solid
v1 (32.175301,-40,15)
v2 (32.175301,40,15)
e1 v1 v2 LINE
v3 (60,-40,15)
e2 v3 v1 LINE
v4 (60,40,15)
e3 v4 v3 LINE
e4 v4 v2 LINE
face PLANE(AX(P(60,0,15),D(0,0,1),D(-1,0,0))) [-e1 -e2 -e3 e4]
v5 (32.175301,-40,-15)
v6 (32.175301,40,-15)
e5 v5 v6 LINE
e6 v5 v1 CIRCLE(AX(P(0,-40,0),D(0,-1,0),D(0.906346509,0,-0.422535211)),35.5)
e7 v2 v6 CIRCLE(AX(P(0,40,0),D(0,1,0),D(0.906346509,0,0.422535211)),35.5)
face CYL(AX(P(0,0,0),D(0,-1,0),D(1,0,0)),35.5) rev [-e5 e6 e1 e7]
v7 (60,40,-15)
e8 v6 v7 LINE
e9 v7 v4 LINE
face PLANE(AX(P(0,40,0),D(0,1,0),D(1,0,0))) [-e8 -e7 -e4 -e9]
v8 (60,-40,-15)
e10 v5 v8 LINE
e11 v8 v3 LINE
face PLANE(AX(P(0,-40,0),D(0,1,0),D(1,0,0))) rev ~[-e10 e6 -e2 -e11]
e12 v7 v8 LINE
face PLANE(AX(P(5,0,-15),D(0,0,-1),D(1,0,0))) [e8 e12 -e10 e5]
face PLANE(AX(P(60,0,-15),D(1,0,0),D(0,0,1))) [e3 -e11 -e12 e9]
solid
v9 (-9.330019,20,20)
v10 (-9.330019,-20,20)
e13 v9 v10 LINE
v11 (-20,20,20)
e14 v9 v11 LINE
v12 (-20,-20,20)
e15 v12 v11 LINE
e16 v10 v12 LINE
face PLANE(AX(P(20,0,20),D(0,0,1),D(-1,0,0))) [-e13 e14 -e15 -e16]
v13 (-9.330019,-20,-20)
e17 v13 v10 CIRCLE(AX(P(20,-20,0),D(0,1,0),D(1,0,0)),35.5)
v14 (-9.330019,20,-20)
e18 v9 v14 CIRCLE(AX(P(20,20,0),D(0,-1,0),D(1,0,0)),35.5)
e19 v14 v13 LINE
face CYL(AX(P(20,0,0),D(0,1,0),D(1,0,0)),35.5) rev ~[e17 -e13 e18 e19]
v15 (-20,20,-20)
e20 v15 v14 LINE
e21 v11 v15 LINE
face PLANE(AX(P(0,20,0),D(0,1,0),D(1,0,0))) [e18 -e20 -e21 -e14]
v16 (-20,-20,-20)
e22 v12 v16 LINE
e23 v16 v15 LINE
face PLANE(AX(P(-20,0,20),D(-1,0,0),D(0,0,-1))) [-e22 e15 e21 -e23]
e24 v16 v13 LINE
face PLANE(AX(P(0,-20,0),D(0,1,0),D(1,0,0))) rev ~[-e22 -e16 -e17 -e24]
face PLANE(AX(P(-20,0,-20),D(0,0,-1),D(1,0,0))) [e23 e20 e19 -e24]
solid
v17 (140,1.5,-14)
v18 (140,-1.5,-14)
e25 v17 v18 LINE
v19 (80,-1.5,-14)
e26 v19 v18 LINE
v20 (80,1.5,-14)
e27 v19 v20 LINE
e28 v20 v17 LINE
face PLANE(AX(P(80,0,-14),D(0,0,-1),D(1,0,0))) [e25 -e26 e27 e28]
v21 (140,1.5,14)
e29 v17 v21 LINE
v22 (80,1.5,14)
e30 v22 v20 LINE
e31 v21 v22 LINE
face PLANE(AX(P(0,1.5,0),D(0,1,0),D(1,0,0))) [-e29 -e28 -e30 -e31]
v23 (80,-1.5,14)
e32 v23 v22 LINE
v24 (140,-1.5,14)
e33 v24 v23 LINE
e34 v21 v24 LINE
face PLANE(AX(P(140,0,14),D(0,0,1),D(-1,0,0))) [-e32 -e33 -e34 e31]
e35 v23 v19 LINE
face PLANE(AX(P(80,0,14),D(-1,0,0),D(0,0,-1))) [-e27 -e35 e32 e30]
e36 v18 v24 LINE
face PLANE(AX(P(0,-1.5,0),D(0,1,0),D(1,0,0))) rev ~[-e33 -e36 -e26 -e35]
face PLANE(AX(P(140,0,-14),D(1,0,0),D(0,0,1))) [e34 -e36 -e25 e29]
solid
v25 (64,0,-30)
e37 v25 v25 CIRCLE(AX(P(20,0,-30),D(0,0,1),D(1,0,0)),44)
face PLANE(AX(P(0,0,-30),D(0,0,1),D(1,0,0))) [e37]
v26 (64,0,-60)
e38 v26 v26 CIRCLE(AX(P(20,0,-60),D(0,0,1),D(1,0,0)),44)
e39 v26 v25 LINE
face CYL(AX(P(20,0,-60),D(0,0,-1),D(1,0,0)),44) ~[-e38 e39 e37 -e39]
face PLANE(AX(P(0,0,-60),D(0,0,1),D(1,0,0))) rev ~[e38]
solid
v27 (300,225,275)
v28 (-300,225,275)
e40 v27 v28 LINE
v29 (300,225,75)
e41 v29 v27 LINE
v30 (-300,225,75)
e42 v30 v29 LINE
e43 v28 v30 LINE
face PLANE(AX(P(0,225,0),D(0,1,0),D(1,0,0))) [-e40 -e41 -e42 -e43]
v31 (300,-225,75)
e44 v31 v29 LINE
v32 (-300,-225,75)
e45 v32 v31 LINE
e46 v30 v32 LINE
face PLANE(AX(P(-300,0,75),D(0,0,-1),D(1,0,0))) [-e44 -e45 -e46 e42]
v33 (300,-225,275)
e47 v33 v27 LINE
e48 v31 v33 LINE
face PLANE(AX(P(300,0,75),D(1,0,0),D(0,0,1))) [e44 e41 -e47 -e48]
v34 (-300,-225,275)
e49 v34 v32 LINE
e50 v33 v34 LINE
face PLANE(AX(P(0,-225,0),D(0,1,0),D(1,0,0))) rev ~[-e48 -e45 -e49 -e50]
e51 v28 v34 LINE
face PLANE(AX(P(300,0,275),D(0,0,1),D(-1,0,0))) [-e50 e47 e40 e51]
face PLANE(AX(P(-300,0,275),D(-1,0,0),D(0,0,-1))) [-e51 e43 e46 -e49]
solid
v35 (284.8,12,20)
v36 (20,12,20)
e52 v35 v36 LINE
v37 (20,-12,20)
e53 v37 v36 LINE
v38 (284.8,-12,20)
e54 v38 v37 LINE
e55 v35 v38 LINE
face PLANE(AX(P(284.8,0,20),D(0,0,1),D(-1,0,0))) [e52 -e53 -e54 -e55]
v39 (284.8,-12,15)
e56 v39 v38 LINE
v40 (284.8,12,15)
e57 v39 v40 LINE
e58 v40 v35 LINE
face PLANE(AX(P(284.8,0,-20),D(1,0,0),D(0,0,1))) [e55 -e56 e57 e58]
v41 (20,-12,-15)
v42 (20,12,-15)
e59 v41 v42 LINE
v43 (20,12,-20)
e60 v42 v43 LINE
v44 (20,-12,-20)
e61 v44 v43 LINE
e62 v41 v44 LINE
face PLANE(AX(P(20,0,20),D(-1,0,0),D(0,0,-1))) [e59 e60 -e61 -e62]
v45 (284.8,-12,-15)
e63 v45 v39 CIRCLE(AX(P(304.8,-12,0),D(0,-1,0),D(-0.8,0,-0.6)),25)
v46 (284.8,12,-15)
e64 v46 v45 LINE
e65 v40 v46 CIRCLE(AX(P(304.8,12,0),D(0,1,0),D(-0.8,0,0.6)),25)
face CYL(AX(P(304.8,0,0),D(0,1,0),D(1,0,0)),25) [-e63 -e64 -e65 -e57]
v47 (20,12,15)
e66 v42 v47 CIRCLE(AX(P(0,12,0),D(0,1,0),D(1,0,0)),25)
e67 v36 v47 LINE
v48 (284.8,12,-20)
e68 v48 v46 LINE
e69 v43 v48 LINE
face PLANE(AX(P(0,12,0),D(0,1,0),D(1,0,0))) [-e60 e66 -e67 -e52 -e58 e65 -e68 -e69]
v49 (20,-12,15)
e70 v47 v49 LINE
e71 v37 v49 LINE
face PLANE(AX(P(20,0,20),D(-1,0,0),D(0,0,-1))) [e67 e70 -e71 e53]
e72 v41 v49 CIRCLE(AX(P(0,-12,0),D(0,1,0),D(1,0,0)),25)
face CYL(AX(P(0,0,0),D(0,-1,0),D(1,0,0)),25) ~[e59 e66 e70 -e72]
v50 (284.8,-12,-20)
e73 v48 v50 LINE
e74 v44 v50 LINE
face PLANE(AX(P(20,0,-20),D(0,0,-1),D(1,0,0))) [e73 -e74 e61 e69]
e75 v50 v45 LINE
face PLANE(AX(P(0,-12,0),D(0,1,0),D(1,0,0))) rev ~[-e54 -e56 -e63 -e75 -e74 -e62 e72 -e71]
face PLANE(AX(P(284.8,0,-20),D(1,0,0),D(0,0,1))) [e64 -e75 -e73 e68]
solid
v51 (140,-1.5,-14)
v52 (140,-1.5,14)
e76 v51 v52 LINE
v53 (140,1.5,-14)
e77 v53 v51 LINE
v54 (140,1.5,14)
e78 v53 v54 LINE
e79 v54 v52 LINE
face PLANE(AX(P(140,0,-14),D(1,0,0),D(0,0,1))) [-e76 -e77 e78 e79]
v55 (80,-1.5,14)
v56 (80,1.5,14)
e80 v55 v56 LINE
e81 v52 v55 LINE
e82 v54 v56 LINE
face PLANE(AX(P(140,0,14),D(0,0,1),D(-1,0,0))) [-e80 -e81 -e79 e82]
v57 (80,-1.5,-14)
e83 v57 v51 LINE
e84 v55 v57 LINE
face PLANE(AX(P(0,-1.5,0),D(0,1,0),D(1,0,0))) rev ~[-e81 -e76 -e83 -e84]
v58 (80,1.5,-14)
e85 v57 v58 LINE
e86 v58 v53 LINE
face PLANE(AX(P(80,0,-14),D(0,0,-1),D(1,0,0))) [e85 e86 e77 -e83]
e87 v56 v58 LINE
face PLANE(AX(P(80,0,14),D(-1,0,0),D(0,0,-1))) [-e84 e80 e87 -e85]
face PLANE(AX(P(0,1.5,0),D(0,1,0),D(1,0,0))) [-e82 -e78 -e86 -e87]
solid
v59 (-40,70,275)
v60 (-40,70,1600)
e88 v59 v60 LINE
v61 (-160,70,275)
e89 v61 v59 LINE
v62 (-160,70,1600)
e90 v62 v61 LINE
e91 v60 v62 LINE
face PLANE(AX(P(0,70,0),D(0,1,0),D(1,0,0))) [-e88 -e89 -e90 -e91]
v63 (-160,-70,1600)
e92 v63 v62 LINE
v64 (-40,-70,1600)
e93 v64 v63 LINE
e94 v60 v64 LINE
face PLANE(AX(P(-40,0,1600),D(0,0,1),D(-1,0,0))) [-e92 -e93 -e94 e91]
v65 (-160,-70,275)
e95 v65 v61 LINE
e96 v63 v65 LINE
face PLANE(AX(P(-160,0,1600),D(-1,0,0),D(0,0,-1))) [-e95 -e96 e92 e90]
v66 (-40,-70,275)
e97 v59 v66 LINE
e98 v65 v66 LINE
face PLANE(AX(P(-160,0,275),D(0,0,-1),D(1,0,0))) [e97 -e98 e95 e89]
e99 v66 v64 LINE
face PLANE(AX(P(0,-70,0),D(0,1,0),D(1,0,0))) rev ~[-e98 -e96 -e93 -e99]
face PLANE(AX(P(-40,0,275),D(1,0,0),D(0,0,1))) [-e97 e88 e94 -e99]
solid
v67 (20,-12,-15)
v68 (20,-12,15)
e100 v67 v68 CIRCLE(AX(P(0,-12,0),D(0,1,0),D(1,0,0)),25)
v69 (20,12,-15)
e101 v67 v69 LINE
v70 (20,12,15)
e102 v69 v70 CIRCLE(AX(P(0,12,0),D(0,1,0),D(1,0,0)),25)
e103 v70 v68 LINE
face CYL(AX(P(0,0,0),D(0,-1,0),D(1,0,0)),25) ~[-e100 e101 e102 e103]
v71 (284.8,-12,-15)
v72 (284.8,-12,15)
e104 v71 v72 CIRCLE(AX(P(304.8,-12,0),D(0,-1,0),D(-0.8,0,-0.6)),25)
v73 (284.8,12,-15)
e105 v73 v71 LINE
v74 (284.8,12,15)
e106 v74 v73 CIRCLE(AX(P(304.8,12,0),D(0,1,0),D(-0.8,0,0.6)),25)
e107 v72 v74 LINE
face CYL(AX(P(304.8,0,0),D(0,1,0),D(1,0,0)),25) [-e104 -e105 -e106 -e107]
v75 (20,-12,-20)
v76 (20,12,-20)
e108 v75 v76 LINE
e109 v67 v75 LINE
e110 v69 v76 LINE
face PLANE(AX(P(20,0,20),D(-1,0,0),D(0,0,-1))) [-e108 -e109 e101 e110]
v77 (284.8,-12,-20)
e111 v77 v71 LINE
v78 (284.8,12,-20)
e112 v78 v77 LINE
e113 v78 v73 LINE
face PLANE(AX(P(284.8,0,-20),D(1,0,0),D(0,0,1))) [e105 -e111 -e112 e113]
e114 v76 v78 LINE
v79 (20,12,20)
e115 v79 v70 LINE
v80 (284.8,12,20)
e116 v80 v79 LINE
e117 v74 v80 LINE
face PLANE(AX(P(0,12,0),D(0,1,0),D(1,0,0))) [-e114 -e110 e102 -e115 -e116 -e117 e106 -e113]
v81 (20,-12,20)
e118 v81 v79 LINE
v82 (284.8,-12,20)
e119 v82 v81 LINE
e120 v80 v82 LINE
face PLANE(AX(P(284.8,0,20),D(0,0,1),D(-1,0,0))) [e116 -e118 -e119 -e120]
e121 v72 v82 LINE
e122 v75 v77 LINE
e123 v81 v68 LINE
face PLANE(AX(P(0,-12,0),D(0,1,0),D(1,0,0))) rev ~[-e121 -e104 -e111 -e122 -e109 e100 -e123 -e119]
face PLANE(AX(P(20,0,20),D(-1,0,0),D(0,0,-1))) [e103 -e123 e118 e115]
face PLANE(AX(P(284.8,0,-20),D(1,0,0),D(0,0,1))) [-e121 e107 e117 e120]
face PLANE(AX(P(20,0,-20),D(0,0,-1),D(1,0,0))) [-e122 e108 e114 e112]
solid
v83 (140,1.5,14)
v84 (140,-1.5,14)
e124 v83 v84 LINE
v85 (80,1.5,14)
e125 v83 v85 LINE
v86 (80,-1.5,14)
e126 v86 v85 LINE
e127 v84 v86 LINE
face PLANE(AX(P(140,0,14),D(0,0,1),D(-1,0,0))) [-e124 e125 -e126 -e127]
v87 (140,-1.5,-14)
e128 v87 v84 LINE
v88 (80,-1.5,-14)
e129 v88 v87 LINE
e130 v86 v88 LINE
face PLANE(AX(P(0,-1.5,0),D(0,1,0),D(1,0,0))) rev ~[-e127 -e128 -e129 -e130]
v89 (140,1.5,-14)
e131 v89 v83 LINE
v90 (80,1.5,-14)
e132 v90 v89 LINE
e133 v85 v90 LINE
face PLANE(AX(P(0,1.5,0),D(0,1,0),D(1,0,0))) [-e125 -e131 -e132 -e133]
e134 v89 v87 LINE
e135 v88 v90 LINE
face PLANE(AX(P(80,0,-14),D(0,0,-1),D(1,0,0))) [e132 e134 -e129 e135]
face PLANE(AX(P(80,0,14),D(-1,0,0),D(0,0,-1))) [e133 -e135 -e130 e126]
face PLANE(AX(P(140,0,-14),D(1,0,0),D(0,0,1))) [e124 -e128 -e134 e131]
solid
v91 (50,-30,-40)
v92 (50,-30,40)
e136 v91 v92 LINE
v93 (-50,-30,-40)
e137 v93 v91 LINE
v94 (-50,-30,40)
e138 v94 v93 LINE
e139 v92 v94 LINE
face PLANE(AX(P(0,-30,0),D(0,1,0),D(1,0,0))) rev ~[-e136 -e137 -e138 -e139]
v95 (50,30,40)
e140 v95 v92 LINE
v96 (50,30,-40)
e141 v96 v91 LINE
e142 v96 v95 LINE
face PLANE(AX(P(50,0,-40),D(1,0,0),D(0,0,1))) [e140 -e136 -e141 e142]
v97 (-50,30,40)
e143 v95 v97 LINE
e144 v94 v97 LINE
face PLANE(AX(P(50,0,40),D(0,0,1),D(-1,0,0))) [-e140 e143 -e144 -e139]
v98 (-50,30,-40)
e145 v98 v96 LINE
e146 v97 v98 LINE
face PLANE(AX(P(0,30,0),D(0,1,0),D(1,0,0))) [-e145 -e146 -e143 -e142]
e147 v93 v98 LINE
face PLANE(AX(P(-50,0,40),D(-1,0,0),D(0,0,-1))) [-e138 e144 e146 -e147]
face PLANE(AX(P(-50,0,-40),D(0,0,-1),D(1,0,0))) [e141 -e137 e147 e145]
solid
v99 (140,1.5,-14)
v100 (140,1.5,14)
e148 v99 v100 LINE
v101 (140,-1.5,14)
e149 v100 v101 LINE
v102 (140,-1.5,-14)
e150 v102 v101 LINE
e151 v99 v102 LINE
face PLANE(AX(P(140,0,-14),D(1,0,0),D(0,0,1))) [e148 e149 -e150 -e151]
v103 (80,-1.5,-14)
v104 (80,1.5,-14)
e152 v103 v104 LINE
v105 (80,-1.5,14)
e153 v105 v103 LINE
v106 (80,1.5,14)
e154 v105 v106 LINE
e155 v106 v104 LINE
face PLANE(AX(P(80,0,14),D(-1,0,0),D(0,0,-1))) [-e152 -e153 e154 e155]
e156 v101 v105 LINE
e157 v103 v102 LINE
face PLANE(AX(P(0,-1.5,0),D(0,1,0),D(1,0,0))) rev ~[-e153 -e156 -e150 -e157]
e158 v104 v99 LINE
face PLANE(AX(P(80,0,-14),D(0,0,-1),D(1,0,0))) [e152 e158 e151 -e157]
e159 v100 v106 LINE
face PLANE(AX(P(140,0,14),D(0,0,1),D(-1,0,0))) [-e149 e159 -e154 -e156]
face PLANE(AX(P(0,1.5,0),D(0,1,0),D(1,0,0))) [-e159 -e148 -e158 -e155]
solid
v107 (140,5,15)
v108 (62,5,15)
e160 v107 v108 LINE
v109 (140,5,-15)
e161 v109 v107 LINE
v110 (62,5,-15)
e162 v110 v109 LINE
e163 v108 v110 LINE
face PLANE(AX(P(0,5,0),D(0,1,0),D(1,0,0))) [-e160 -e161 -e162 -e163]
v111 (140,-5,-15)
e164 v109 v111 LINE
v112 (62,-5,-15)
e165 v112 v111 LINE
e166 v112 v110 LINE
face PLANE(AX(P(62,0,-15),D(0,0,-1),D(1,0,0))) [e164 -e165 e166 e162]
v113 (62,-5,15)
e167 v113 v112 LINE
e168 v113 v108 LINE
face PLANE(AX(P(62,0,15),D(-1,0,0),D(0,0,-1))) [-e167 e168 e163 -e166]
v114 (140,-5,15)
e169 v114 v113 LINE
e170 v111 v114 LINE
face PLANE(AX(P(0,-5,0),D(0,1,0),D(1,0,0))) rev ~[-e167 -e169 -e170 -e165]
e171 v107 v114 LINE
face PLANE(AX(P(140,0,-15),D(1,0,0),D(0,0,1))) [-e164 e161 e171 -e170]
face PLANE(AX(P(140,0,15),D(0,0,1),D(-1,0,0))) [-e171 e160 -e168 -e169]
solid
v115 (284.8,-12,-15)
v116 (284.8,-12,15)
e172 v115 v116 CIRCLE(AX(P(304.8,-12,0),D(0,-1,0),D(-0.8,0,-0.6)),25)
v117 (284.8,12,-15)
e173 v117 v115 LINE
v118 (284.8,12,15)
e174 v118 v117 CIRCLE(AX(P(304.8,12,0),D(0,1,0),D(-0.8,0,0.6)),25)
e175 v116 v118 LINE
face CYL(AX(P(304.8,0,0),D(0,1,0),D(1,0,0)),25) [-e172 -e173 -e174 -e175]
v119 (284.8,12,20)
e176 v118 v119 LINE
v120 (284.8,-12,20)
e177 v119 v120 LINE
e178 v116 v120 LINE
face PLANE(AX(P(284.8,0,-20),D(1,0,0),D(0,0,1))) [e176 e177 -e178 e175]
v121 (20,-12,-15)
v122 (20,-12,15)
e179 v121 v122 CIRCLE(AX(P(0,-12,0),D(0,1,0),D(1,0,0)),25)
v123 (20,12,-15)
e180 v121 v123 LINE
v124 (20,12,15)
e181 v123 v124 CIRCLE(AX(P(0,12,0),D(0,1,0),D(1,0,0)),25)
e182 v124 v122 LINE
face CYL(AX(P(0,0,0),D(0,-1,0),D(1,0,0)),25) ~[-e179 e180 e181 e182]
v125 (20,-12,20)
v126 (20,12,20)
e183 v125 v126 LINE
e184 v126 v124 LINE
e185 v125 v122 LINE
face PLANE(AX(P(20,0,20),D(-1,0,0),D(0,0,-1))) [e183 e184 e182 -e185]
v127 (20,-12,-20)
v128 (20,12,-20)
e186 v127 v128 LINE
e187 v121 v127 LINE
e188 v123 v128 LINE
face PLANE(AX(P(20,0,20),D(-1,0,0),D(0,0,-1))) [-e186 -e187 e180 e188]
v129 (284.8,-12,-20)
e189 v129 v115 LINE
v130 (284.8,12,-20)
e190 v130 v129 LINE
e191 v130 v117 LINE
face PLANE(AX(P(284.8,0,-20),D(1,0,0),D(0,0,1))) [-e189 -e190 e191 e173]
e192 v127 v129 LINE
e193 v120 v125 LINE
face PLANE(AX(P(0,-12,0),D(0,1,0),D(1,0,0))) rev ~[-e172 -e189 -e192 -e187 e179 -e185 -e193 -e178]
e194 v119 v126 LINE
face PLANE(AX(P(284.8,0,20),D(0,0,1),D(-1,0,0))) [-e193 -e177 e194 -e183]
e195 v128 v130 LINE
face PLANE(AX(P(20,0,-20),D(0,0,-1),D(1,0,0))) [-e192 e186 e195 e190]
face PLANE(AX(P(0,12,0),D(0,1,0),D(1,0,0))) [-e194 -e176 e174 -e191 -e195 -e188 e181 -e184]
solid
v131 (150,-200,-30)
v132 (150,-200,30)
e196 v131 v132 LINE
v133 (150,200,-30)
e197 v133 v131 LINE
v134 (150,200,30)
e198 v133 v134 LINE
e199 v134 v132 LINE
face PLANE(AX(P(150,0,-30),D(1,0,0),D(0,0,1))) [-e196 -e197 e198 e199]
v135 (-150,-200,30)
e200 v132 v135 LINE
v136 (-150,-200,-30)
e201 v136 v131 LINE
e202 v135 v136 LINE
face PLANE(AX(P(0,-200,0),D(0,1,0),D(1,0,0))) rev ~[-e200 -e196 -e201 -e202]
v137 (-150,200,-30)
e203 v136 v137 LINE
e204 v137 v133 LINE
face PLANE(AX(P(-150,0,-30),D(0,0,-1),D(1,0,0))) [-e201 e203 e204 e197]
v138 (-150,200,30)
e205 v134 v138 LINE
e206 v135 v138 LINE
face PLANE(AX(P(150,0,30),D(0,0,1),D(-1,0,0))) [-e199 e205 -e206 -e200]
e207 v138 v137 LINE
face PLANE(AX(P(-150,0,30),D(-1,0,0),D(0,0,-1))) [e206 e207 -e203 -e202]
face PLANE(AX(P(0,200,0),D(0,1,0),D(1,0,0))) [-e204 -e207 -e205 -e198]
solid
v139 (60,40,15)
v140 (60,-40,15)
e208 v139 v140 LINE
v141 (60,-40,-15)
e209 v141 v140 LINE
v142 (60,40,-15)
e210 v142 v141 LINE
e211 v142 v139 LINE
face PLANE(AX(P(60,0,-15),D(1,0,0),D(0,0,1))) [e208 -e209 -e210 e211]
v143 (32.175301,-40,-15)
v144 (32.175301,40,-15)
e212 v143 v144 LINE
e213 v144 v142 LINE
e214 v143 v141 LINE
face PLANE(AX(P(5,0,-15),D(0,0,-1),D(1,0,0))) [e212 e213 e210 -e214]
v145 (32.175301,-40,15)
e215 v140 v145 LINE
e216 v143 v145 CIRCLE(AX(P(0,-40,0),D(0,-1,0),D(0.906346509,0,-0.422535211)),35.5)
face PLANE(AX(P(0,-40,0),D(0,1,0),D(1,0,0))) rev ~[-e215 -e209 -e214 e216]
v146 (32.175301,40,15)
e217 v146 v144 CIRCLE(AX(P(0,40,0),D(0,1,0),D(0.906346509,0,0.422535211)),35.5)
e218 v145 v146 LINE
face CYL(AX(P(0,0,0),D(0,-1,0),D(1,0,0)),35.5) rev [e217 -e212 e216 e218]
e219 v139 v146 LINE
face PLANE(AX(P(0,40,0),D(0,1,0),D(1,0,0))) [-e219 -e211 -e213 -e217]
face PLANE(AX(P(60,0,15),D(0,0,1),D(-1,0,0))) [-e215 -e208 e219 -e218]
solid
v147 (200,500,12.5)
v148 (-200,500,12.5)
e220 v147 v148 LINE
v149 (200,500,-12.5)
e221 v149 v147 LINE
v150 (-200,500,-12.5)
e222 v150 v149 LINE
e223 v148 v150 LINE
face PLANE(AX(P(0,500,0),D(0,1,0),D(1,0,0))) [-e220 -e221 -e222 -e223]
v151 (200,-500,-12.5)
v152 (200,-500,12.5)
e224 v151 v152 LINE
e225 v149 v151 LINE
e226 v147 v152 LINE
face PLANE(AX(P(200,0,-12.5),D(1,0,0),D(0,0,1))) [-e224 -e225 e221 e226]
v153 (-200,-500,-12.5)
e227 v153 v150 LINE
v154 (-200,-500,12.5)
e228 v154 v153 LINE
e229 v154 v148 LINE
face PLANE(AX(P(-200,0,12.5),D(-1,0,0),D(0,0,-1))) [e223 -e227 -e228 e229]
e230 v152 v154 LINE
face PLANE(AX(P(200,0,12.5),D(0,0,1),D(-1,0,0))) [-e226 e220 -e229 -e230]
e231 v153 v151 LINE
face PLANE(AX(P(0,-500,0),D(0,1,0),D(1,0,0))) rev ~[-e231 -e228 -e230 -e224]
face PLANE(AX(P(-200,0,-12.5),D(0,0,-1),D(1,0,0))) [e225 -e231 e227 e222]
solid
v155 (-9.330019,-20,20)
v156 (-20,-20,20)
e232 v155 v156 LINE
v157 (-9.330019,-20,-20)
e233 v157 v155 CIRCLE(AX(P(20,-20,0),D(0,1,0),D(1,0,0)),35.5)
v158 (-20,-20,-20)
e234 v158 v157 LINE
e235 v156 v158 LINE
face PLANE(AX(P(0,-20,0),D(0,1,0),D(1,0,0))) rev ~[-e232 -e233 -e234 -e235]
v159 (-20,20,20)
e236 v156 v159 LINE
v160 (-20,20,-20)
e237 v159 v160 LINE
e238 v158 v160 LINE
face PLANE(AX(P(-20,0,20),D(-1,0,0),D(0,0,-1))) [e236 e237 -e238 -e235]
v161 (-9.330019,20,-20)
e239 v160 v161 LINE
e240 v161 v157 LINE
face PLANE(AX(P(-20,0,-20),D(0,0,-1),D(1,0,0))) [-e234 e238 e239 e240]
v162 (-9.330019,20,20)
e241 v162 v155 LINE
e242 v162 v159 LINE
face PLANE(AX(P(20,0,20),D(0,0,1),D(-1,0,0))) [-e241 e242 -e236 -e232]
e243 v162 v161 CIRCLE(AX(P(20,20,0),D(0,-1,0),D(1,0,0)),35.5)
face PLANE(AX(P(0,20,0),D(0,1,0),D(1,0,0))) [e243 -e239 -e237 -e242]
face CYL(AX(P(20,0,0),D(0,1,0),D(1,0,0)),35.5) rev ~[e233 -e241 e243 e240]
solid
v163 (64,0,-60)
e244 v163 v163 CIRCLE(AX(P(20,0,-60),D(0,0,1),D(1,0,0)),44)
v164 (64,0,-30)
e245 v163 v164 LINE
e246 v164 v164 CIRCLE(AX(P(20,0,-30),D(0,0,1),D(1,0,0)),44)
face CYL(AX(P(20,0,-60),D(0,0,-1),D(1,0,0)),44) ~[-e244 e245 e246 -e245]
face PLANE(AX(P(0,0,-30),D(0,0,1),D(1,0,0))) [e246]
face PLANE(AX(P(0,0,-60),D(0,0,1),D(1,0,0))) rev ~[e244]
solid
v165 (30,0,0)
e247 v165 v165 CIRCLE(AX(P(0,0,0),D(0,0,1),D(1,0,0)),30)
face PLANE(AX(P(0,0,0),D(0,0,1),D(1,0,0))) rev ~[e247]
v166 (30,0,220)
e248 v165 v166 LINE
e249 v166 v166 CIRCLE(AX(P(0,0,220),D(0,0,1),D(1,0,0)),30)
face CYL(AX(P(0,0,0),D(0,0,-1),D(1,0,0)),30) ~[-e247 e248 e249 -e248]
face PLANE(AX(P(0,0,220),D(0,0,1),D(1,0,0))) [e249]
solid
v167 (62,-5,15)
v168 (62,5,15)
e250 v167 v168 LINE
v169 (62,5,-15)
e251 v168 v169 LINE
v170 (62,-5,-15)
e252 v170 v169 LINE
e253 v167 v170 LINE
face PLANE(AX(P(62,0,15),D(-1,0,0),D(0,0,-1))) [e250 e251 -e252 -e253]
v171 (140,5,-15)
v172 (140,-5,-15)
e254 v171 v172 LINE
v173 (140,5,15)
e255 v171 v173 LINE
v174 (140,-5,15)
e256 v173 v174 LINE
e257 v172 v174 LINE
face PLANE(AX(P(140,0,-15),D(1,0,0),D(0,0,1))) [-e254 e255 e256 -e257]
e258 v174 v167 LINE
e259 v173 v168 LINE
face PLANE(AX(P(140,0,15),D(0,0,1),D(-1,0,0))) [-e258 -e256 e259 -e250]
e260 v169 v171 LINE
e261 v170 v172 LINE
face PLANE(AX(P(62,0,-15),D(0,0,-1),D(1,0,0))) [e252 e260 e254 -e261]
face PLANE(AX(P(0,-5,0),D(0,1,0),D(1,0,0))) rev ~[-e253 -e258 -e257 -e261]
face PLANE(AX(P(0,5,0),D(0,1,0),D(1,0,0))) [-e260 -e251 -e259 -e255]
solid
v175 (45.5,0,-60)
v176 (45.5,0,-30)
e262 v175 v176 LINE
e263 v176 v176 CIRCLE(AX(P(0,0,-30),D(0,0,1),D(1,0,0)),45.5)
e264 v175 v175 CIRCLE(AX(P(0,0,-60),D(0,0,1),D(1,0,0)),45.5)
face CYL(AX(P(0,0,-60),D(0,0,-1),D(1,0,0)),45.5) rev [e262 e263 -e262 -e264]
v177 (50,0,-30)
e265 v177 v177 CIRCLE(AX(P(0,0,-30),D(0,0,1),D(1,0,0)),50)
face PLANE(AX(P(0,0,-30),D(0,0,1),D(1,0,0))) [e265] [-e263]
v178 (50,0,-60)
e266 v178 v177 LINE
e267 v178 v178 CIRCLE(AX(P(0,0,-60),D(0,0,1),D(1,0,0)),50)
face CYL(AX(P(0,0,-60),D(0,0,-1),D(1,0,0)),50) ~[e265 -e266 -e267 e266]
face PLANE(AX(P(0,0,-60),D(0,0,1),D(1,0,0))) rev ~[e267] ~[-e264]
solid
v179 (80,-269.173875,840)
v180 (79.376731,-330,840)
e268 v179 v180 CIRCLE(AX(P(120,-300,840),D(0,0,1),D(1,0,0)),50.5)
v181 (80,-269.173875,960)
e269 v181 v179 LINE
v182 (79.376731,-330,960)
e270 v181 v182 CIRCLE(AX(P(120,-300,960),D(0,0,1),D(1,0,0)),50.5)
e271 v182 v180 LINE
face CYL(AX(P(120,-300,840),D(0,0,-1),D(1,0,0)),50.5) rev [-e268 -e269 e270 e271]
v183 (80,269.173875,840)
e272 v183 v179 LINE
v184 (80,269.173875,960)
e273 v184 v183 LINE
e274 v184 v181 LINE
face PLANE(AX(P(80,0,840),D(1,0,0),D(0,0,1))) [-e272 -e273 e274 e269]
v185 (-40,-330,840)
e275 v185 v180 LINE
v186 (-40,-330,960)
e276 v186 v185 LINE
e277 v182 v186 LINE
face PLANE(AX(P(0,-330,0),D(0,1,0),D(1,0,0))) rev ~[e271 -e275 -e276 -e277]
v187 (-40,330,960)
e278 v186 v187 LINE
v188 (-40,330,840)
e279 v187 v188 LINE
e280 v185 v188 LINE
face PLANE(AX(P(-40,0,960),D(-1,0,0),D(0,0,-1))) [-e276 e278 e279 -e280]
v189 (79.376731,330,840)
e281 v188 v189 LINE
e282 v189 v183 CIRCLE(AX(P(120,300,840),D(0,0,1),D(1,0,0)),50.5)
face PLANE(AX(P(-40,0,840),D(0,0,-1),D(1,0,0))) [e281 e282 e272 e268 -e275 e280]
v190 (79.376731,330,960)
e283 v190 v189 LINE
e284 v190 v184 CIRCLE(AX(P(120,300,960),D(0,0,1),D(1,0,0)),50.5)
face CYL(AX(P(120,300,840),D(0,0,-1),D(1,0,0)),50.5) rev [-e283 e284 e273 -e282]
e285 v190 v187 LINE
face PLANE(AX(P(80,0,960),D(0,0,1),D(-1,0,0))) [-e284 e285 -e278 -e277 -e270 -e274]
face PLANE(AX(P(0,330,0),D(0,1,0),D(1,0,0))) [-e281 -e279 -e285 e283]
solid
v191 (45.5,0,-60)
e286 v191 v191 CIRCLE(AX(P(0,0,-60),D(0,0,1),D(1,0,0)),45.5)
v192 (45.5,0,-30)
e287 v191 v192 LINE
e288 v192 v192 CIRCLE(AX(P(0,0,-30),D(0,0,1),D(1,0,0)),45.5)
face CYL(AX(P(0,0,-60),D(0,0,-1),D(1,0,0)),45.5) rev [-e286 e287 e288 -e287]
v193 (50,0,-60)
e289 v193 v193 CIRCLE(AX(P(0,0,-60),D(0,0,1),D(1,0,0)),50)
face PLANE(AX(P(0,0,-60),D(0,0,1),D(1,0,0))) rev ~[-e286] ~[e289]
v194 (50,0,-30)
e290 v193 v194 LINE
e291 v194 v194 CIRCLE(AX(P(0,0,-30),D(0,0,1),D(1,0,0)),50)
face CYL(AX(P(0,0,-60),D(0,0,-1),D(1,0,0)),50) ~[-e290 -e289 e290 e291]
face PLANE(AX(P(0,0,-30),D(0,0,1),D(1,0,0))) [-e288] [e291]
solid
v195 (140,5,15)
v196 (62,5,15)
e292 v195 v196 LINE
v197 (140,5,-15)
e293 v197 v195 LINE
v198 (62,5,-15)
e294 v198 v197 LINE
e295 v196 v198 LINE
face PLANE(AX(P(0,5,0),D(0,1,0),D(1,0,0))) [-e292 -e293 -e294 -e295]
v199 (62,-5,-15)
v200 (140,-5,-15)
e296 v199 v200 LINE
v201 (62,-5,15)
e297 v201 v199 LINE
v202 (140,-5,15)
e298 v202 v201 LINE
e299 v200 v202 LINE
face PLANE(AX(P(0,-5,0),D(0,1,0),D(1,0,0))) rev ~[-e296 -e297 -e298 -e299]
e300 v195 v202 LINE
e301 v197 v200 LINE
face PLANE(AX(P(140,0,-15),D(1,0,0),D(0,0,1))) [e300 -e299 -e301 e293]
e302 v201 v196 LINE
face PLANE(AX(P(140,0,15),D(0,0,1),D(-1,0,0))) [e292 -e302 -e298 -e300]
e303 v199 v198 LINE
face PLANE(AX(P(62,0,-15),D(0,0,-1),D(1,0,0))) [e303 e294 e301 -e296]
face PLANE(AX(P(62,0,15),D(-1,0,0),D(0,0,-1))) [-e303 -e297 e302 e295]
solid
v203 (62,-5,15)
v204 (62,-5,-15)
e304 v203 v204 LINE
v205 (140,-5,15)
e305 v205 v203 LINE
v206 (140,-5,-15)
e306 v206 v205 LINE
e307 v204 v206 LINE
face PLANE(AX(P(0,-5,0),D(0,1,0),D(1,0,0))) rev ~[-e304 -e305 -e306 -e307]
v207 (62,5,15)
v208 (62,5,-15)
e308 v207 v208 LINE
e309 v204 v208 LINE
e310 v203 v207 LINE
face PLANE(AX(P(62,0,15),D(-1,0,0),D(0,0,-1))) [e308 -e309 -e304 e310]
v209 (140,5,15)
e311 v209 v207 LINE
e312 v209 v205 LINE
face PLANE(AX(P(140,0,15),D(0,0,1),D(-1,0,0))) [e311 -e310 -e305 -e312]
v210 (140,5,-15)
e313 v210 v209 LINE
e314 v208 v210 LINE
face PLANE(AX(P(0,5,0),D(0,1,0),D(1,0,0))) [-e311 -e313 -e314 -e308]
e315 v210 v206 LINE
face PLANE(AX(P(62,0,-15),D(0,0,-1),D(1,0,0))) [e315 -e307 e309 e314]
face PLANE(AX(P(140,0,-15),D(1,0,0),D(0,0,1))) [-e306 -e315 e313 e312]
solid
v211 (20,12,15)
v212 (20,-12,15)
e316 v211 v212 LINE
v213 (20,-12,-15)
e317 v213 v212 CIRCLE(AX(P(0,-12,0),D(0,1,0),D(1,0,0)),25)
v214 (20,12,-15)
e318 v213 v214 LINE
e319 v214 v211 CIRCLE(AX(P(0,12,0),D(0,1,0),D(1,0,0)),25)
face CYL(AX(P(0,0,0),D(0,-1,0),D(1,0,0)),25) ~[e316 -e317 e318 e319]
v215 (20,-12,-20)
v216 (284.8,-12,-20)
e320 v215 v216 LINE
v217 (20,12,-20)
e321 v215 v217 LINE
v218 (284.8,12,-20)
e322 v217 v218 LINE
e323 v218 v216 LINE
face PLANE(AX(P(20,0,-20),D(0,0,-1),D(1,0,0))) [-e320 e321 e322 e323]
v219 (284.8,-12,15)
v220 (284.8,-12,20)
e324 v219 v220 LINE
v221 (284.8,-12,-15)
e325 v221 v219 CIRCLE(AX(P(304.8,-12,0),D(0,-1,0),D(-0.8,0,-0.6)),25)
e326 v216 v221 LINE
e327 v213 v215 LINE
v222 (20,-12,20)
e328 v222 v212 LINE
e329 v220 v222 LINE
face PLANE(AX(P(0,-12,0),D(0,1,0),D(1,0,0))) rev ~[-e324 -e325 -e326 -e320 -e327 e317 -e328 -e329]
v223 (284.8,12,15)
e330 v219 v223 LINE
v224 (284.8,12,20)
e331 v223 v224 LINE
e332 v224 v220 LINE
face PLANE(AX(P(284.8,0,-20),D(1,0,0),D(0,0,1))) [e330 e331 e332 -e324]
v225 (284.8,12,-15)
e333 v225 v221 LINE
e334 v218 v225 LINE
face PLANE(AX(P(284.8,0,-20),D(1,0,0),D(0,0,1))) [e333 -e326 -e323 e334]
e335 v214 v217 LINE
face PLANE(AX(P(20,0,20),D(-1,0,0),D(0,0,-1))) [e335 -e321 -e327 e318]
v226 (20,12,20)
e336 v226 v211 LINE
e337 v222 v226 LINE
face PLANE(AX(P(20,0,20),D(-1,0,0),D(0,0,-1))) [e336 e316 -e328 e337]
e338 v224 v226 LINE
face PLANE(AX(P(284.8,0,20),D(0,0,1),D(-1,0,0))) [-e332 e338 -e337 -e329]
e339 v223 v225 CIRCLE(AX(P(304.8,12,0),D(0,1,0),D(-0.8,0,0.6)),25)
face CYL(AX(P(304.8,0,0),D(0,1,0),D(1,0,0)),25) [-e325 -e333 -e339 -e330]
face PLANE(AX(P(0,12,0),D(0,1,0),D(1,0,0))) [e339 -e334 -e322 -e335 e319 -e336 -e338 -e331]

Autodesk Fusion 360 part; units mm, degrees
sketch "Layout_Side" plane through (0, 0, 0) normal (0, 1, 0) x (1, 0, 0) in component "00_Layout"
  line L0 (0, 0) -> (0, -1676.4) construction
  line L1 (300, -275) -> (-300, -275) construction
  line L2 (-300, -275) -> (-300, -75) construction
  line L3 (-300, -75) -> (300, -75) construction
  line L4 (300, -75) -> (300, -275) construction
  line L5 (300, -275) -> (-300, -75) construction
  line L6 (-300, -275) -> (300, -75) construction
  line L7 (0, -1676.4) -> (600, -1676.4) construction
  line L8 (0, -175) -> (0, -75) construction
  dimension "d1" = 200
  dimension "d2" = 600
  dimension "d4" = 600
  dimension "d5" = 75
  dimension "d6" = 1676.4
sketch "Base_Profile" plane through (0, 0, 0) normal (0, 1, 0) x (1, 0, 0) in component "01_Base_Envelope"
  line L0 (300, -275) -> (-300, -275)
  line L1 (-300, -275) -> (-300, -75)
  line L2 (-300, -75) -> (300, -75)
  line L3 (300, -75) -> (300, -275)
extrude "Chassis_Width_450mm" add sketch "Base_Profile" along normal mid plane 450 makes body 1 in component "01_Base_Envelope"
sketch "Mast_Envelope_Side_Profile" plane through (0, 0, 0) normal (0, 1, 0) x (1, 0, 0) in component "02_Mast_Envelope"
  line L0 (-160, -275) -> (-40, -275)
  line L1 (-40, -275) -> (-40, -1600)
  line L2 (-40, -1600) -> (-160, -1600)
  line L3 (-160, -1600) -> (-160, -275)
  line L4 (300, -275) -> (-300, -275) construction
  dimension "d9" = 120
  dimension "d10" = 1325
  dimension "d11" = 160
extrude "Mast_Envelope_Width_140mm" add sketch "Mast_Envelope_Side_Profile" along normal mid plane 140 separate body makes body 2 in component "02_Mast_Envelope"
sketch "Shared_Carriage_Side_Profile" plane through (0, 0, 0) normal (0, 1, 0) x (1, 0, 0) in component "03_Shared_Carriage"
  line L0 (-40, -840) -> (80, -840)
  line L1 (80, -840) -> (80, -960)
  line L2 (80, -960) -> (-40, -960)
  line L3 (-40, -960) -> (-40, -840)
  dimension "d14" = 120
  dimension "d15" = 120
  dimension "d16" = 40
  dimension "d17" = 840
extrude "Shared_Carriage_Width_660mm" add sketch "Shared_Carriage_Side_Profile" along normal mid plane 660 separate body makes body 3 in component "03_Shared_Carriage"
ref_plane "WorkPlane1" through (0, 300, 0) normal (0, 1, 0) x (0, 0, 1) in component "00_Layout"
sketch "Reach_Left_Floor_2x304p8mm" plane through (0, 300, 0) normal (0, 1, 0) x (1, 0, 0) in component "00_Layout"
  circle A0 centre (80, -400) radius 609.6 construction
  line L0 (80, -400) -> (380.0994, -346.6765) construction
  line L1 (380.0994, -346.6765) -> (450, -50) construction
  dimension "d25" = 80
  dimension "d26" = 400
  dimension "d27" = 450
  dimension "d28" = 50
  dimension "d29" = 609.6
  dimension "d30" = 304.8
  dimension "d31" = 304.8
sketch "Reach_Left_Shelf_2x304p8mm" plane through (0, 300, 0) normal (0, 1, 0) x (1, 0, 0) in component "00_Layout"
  circle A0 centre (80, -1400) radius 609.6 construction
  line L0 (80, -1400) -> (198.6357, -1680.7643) construction
  line L1 (198.6357, -1680.7643) -> (500, -1726.4) construction
  dimension "d32" = 80
  dimension "d33" = 1400
  dimension "d34" = 500
  dimension "d35" = 1726.4
  dimension "d36" = 609.6
  dimension "d37" = 304.8
  dimension "d38" = 304.8
ref_plane "WorkPlane2" through (0, -300, 0) normal (0, 1, 0) x (0, 0, 1) in component "00_Layout"
sketch "Reach_Right_Floor_2x304p8mm" plane through (0, -300, 0) normal (0, 1, 0) x (1, 0, 0) in component "00_Layout"
  circle A0 centre (80, -400) radius 609.6 construction
  line L0 (80, -400) -> (380.0994, -346.6765) construction
  line L1 (380.0994, -346.6765) -> (450, -50) construction
  dimension "d41" = 80
  dimension "d42" = 400
  dimension "d43" = 450
  dimension "d44" = 50
  dimension "d45" = 609.6
  dimension "d46" = 304.8
  dimension "d47" = 304.8
sketch "Reach_Right_Shelf_2x304p8mm" plane through (0, -300, 0) normal (0, 1, 0) x (1, 0, 0) in component "00_Layout"
  circle A0 centre (80, -1400) radius 609.6 construction
  line L0 (80, -1400) -> (198.6357, -1680.7643) construction
  line L1 (198.6357, -1680.7643) -> (500, -1726.4) construction
  dimension "d48" = 80
  dimension "d49" = 1400
  dimension "d50" = 500
  dimension "d51" = 1726.4
  dimension "d52" = 609.6
  dimension "d53" = 304.8
  dimension "d54" = 304.8
sketch "Shoulder_Mount_Profile" plane through (0, 0, 0) normal (0, 1, 0) x (1, 0, 0) in component "04_Left_Shoulder_Standoff"
  line L0 (-20, 20) -> (20, 20)
  line L1 (20, 20) -> (20, -20)
  line L2 (20, -20) -> (-20, -20)
  line L3 (-20, -20) -> (-20, 20)
  dimension "d55" = 20
  dimension "d56" = 20
  dimension "d57" = 40
  dimension "d58" = 40
extrude "Shoulder_Mount" add sketch "Shoulder_Mount_Profile" along normal mid plane 40 separate body makes body 4 in component "04_Left_Shoulder_Standoff"
sketch "Upper_Link_304p8mm_Profile" plane through (0, 0, 0) normal (0, 1, 0) x (1, 0, 0) in component "05_Left_Upper_Arm"
  line L0 (20, 20) -> (284.8, 20)
  line L1 (284.8, 20) -> (284.8, -20)
  line L2 (284.8, -20) -> (20, -20)
  line L3 (20, -20) -> (20, 20)
  dimension "d61" = 20
  dimension "d62" = 20
  dimension "d63" = 264.8
  dimension "d64" = 40
extrude "Upper_Link_304p8mm" add sketch "Upper_Link_304p8mm_Profile" along normal mid plane 24 separate body makes body 5 in component "05_Left_Upper_Arm"
sketch "Joint_Axis_Locations" plane through (0, 0, 0) normal (0, 1, 0) x (1, 0, 0) in component "05_Left_Upper_Arm"
  line L0 (0, 0) -> (304.8, 0) construction
  dimension "d67" = 304.8
sketch "Fore_Link_304p8mm_Profile" plane through (0, 0, 0) normal (0, 1, 0) x (1, 0, 0) in component "06_Left_Forearm"
  line L0 (20, 20) -> (284.8, 20)
  line L1 (284.8, 20) -> (284.8, -20)
  line L2 (284.8, -20) -> (20, -20)
  line L3 (20, -20) -> (20, 20)
  dimension "d68" = 20
  dimension "d69" = 20
  dimension "d70" = 264.8
  dimension "d71" = 40
extrude "Fore_Link_304p8mm" add sketch "Fore_Link_304p8mm_Profile" along normal mid plane 24 separate body makes body 6 in component "06_Left_Forearm"
sketch "Joint_Axis_Locations (2)" plane through (0, 0, 0) normal (0, 1, 0) x (1, 0, 0) in component "06_Left_Forearm"
  line L0 (0, 0) -> (304.8, 0) construction
  dimension "d74" = 304.8
sketch "Palm_Envelope_Profile" plane through (0, 0, 0) normal (0, 1, 0) x (1, 0, 0) in component "07_Left_Wrist_Palm"
  line L0 (5, 15) -> (60, 15)
  line L1 (60, 15) -> (60, -15)
  line L2 (60, -15) -> (5, -15)
  line L3 (5, -15) -> (5, 15)
  dimension "d75" = 5
  dimension "d76" = 15
  dimension "d77" = 55
  dimension "d78" = 30
extrude "Palm_Envelope" add sketch "Palm_Envelope_Profile" along normal mid plane 80 separate body makes body 7 in component "07_Left_Wrist_Palm"
sketch "Joint_Axis_Locations (3)" plane through (0, 0, 0) normal (0, 1, 0) x (1, 0, 0) in component "07_Left_Wrist_Palm"
  line L0 (0, 0) -> (110, 0) construction
  dimension "d81" = 110
sketch "Finger_Envelope_Profile" plane through (0, 0, 0) normal (0, 1, 0) x (1, 0, 0) in component "08_Left_Finger_Positive"
  line L0 (62, 15) -> (140, 15)
  line L1 (140, 15) -> (140, -15)
  line L2 (140, -15) -> (62, -15)
  line L3 (62, -15) -> (62, 15)
  dimension "d88" = 62
  dimension "d89" = 15
  dimension "d90" = 78
  dimension "d91" = 30
extrude "Finger_Envelope" add sketch "Finger_Envelope_Profile" along normal mid plane 10 separate body makes body 8 in component "08_Left_Finger_Positive"
sketch "Soft_Pad_Envelope_Profile" plane through (0, 0, 0) normal (0, 1, 0) x (1, 0, 0) in component "09_Left_Pad_Positive"
  line L0 (80, 14) -> (140, 14)
  line L1 (140, 14) -> (140, -14)
  line L2 (140, -14) -> (80, -14)
  line L3 (80, -14) -> (80, 14)
  dimension "d94" = 80
  dimension "d95" = 14
  dimension "d96" = 60
  dimension "d97" = 28
extrude "Soft_Pad_Envelope" add sketch "Soft_Pad_Envelope_Profile" along normal mid plane 3 separate body makes body 9 in component "09_Left_Pad_Positive"
sketch "Finger_Envelope_Profile (2)" plane through (0, 0, 0) normal (0, 1, 0) x (1, 0, 0) in component "08_Left_Finger_Negative"
  line L0 (62, 15) -> (140, 15)
  line L1 (140, 15) -> (140, -15)
  line L2 (140, -15) -> (62, -15)
  line L3 (62, -15) -> (62, 15)
  dimension "d102" = 62
  dimension "d103" = 15
  dimension "d104" = 78
  dimension "d105" = 30
extrude "Finger_Envelope'" add sketch "Finger_Envelope_Profile (2)" along normal mid plane 10 separate body makes body 10 in component "08_Left_Finger_Negative"
sketch "Soft_Pad_Envelope_Profile (2)" plane through (0, 0, 0) normal (0, 1, 0) x (1, 0, 0) in component "09_Left_Pad_Negative"
  line L0 (80, 14) -> (140, 14)
  line L1 (140, 14) -> (140, -14)
  line L2 (140, -14) -> (80, -14)
  line L3 (80, -14) -> (80, 14)
  dimension "d108" = 80
  dimension "d109" = 14
  dimension "d110" = 60
  dimension "d111" = 28
extrude "Soft_Pad_Envelope'" add sketch "Soft_Pad_Envelope_Profile (2)" along normal mid plane 3 separate body makes body 11 in component "09_Left_Pad_Negative"
sketch "Shoulder_Mount_Profile (2)" plane through (0, 0, 0) normal (0, 1, 0) x (1, 0, 0) in component "04_Right_Shoulder_Standoff"
  line L0 (-20, 20) -> (20, 20)
  line L1 (20, 20) -> (20, -20)
  line L2 (20, -20) -> (-20, -20)
  line L3 (-20, -20) -> (-20, 20)
  dimension "d116" = 20
  dimension "d117" = 20
  dimension "d118" = 40
  dimension "d119" = 40
extrude "Shoulder_Mount'" add sketch "Shoulder_Mount_Profile (2)" along normal mid plane 40 separate body makes body 12 in component "04_Right_Shoulder_Standoff"
sketch "Upper_Link_304p8mm_Profile (2)" plane through (0, 0, 0) normal (0, 1, 0) x (1, 0, 0) in component "05_Right_Upper_Arm"
  line L0 (20, 20) -> (284.8, 20)
  line L1 (284.8, 20) -> (284.8, -20)
  line L2 (284.8, -20) -> (20, -20)
  line L3 (20, -20) -> (20, 20)
  dimension "d122" = 20
  dimension "d123" = 20
  dimension "d124" = 264.8
  dimension "d125" = 40
extrude "Upper_Link_304p8mm'" add sketch "Upper_Link_304p8mm_Profile (2)" along normal mid plane 24 separate body makes body 13 in component "05_Right_Upper_Arm"
sketch "Joint_Axis_Locations (4)" plane through (0, 0, 0) normal (0, 1, 0) x (1, 0, 0) in component "05_Right_Upper_Arm"
  line L0 (0, 0) -> (304.8, 0) construction
  dimension "d128" = 304.8
sketch "Fore_Link_304p8mm_Profile (2)" plane through (0, 0, 0) normal (0, 1, 0) x (1, 0, 0) in component "06_Right_Forearm"
  line L0 (20, 20) -> (284.8, 20)
  line L1 (284.8, 20) -> (284.8, -20)
  line L2 (284.8, -20) -> (20, -20)
  line L3 (20, -20) -> (20, 20)
  dimension "d129" = 20
  dimension "d130" = 20
  dimension "d131" = 264.8
  dimension "d132" = 40
extrude "Fore_Link_304p8mm'" add sketch "Fore_Link_304p8mm_Profile (2)" along normal mid plane 24 separate body makes body 14 in component "06_Right_Forearm"
sketch "Joint_Axis_Locations (5)" plane through (0, 0, 0) normal (0, 1, 0) x (1, 0, 0) in component "06_Right_Forearm"
  line L0 (0, 0) -> (304.8, 0) construction
  dimension "d135" = 304.8
sketch "Palm_Envelope_Profile (2)" plane through (0, 0, 0) normal (0, 1, 0) x (1, 0, 0) in component "07_Right_Wrist_Palm"
  line L0 (5, 15) -> (60, 15)
  line L1 (60, 15) -> (60, -15)
  line L2 (60, -15) -> (5, -15)
  line L3 (5, -15) -> (5, 15)
  dimension "d136" = 5
  dimension "d137" = 15
  dimension "d138" = 55
  dimension "d139" = 30
extrude "Palm_Envelope'" add sketch "Palm_Envelope_Profile (2)" along normal mid plane 80 separate body makes body 15 in component "07_Right_Wrist_Palm"
sketch "Joint_Axis_Locations (6)" plane through (0, 0, 0) normal (0, 1, 0) x (1, 0, 0) in component "07_Right_Wrist_Palm"
  line L0 (0, 0) -> (110, 0) construction
  dimension "d142" = 110
sketch "Finger_Envelope_Profile (3)" plane through (0, 0, 0) normal (0, 1, 0) x (1, 0, 0) in component "08_Right_Finger_Positive"
  line L0 (62, 15) -> (140, 15)
  line L1 (140, 15) -> (140, -15)
  line L2 (140, -15) -> (62, -15)
  line L3 (62, -15) -> (62, 15)
  dimension "d149" = 62
  dimension "d150" = 15
  dimension "d151" = 78
  dimension "d152" = 30
extrude "Finger_Envelope''" add sketch "Finger_Envelope_Profile (3)" along normal mid plane 10 separate body makes body 16 in component "08_Right_Finger_Positive"
sketch "Soft_Pad_Envelope_Profile (3)" plane through (0, 0, 0) normal (0, 1, 0) x (1, 0, 0) in component "09_Right_Pad_Positive"
  line L0 (80, 14) -> (140, 14)
  line L1 (140, 14) -> (140, -14)
  line L2 (140, -14) -> (80, -14)
  line L3 (80, -14) -> (80, 14)
  dimension "d155" = 80
  dimension "d156" = 14
  dimension "d157" = 60
  dimension "d158" = 28
extrude "Soft_Pad_Envelope''" add sketch "Soft_Pad_Envelope_Profile (3)" along normal mid plane 3 separate body makes body 17 in component "09_Right_Pad_Positive"
sketch "Finger_Envelope_Profile (4)" plane through (0, 0, 0) normal (0, 1, 0) x (1, 0, 0) in component "08_Right_Finger_Negative"
  line L0 (62, 15) -> (140, 15)
  line L1 (140, 15) -> (140, -15)
  line L2 (140, -15) -> (62, -15)
  line L3 (62, -15) -> (62, 15)
  dimension "d163" = 62
  dimension "d164" = 15
  dimension "d165" = 78
  dimension "d166" = 30
extrude "Finger_Envelope'''" add sketch "Finger_Envelope_Profile (4)" along normal mid plane 10 separate body makes body 18 in component "08_Right_Finger_Negative"
sketch "Soft_Pad_Envelope_Profile (4)" plane through (0, 0, 0) normal (0, 1, 0) x (1, 0, 0) in component "09_Right_Pad_Negative"
  line L0 (80, 14) -> (140, 14)
  line L1 (140, 14) -> (140, -14)
  line L2 (140, -14) -> (80, -14)
  line L3 (80, -14) -> (80, 14)
  dimension "d169" = 80
  dimension "d170" = 14
  dimension "d171" = 60
  dimension "d172" = 28
extrude "Soft_Pad_Envelope'''" add sketch "Soft_Pad_Envelope_Profile (4)" along normal mid plane 3 separate body makes body 19 in component "09_Right_Pad_Negative"
sketch "Pivot_Housing_Envelopes" plane through (0, 0, 0) normal (0, 1, 0) x (1, 0, 0) in component "05_Left_Upper_Arm"
  circle A0 centre (0, 0) radius 25
  line L0 (0, 0) -> (304.8, 0) construction
  circle A1 centre (304.8, 0) radius 25
  dimension "d177" = 25
  dimension "d178" = 304.8
  dimension "d179" = 25
extrude "Pivot_Housing_Envelopes_24mm" add sketch "Pivot_Housing_Envelopes" along normal mid plane 24 bodies 5 in component "05_Left_Upper_Arm"
sketch "Pivot_Housing_Envelopes (2)" plane through (0, 0, 0) normal (0, 1, 0) x (1, 0, 0) in component "06_Left_Forearm"
  circle A0 centre (0, 0) radius 25
  line L0 (0, 0) -> (304.8, 0) construction
  circle A1 centre (304.8, 0) radius 25
  dimension "d182" = 25
  dimension "d183" = 304.8
  dimension "d184" = 25
extrude "Pivot_Housing_Envelopes_24mm'" add sketch "Pivot_Housing_Envelopes (2)" along normal mid plane 24 bodies 6 in component "06_Left_Forearm"
sketch "Pivot_Housing_Envelopes (3)" plane through (0, 0, 0) normal (0, 1, 0) x (1, 0, 0) in component "05_Right_Upper_Arm"
  circle A0 centre (0, 0) radius 25
  line L0 (0, 0) -> (304.8, 0) construction
  circle A1 centre (304.8, 0) radius 25
  dimension "d187" = 25
  dimension "d188" = 304.8
  dimension "d189" = 25
extrude "Pivot_Housing_Envelopes_24mm''" add sketch "Pivot_Housing_Envelopes (3)" along normal mid plane 24 bodies 13 in component "05_Right_Upper_Arm"
sketch "Pivot_Housing_Envelopes (4)" plane through (0, 0, 0) normal (0, 1, 0) x (1, 0, 0) in component "06_Right_Forearm"
  circle A0 centre (0, 0) radius 25
  line L0 (0, 0) -> (304.8, 0) construction
  circle A1 centre (304.8, 0) radius 25
  dimension "d192" = 25
  dimension "d193" = 304.8
  dimension "d194" = 25
extrude "Pivot_Housing_Envelopes_24mm'''" add sketch "Pivot_Housing_Envelopes (4)" along normal mid plane 24 bodies 14 in component "06_Right_Forearm"
sketch "Shoulder_Pitch_Sweep_Clearance_35p5mm" plane through (0, 0, 0) normal (0, 1, 0) x (1, 0, 0) in component "04_Left_Shoulder_Standoff"
  line L0 (0, 0) -> (20, 0) construction
  circle A0 centre (20, 0) radius 35.5
  dimension "d197" = 20
  dimension "d198" = 35.5
sketch "Wrist_Sweep_Clearance_35p5mm" plane through (0, 0, 0) normal (0, 1, 0) x (1, 0, 0) in component "07_Left_Wrist_Palm"
  circle A0 centre (0, 0) radius 35.5
  dimension "d203" = 35.5
sketch "Shoulder_Pitch_Sweep_Clearance_35p5mm (2)" plane through (0, 0, 0) normal (0, 1, 0) x (1, 0, 0) in component "04_Right_Shoulder_Standoff"
  line L0 (0, 0) -> (20, 0) construction
  circle A0 centre (20, 0) radius 35.5
  dimension "d208" = 20
  dimension "d209" = 35.5
sketch "Wrist_Sweep_Clearance_35p5mm (2)" plane through (0, 0, 0) normal (0, 1, 0) x (1, 0, 0) in component "07_Right_Wrist_Palm"
  circle A0 centre (0, 0) radius 35.5
  dimension "d214" = 35.5
extrude "Pivot_Clearance_Cut_This_Component_Only" cut sketch "Shoulder_Pitch_Sweep_Clearance_35p5mm" along normal mid plane 90 bodies 4 in component "04_Left_Shoulder_Standoff"
extrude "Pivot_Clearance_Cut_This_Component_Only'" cut sketch "Wrist_Sweep_Clearance_35p5mm" along normal mid plane 90 bodies 7 in component "07_Left_Wrist_Palm"
extrude "Pivot_Clearance_Cut_This_Component_Only''" cut sketch "Shoulder_Pitch_Sweep_Clearance_35p5mm (2)" along normal mid plane 90 bodies 12 in component "04_Right_Shoulder_Standoff"
extrude "Pivot_Clearance_Cut_This_Component_Only'''" cut sketch "Wrist_Sweep_Clearance_35p5mm (2)" along normal mid plane 90 bodies 15 in component "07_Right_Wrist_Palm"
sketch "Yaw_Axis_XY_Location" plane through (0, 0, 0) normal (0, 0, 1) x (1, 0, 0) in component "04_Left_Shoulder_Standoff"
  line L0 (0, 0) -> (20, 0) construction
  dimension "d262" = 20
sketch "Yaw_Axis_XY_Location (2)" plane through (0, 0, 0) normal (0, 0, 1) x (1, 0, 0) in component "04_Right_Shoulder_Standoff"
  line L0 (0, 0) -> (20, 0) construction
  dimension "d265" = 20
ref_plane "WorkPlane1" through (0, 0, 840) normal (0, 0, 1) x (1, 0, 0) in component "03_Shared_Carriage"
sketch "Shoulder_Yaw_Sweep_Relief_30" plane through (0, 0, 840) normal (0, 0, 1) x (1, 0, 0) in component "03_Shared_Carriage"
  line L0 (0, 0) -> (120, 300) construction
  circle A0 centre (120, 300) radius 50.5
  dimension "d270" = 120
  dimension "d271" = 300
  dimension "d272" = 50.5
extrude "Yaw_Sweep_Clearance_Carriage_Only" cut sketch "Shoulder_Yaw_Sweep_Relief_30" along normal blind 120 bodies 3 in component "03_Shared_Carriage"
ref_plane "WorkPlane2" through (0, 0, 840) normal (0, 0, 1) x (1, 0, 0) in component "03_Shared_Carriage"
sketch "Shoulder_Yaw_Sweep_Relief_-30" plane through (0, 0, 840) normal (0, 0, 1) x (1, 0, 0) in component "03_Shared_Carriage"
  line L0 (0, 0) -> (120, -300) construction
  circle A0 centre (120, -300) radius 50.5
  dimension "d277" = 120
  dimension "d278" = 300
  dimension "d279" = 50.5
extrude "Yaw_Sweep_Clearance_Carriage_Only (1)" cut sketch "Shoulder_Yaw_Sweep_Relief_-30" along normal blind 120 bodies 3 in component "03_Shared_Carriage"
ref_plane "WorkPlane1" through (0, 0, -60) normal (0, 0, 1) x (1, 0, 0) in component "04_Left_Shoulder_Standoff"
sketch "Yaw_Rotor_88mm_Envelope" plane through (0, 0, -60) normal (0, 0, 1) x (1, 0, 0) in component "04_Left_Shoulder_Standoff"
  line L0 (0, 0) -> (20, 0) construction
  circle A0 centre (20, 0) radius 44
  dimension "d284" = 20
  dimension "d285" = 44
extrude "Left_Yaw_Rotor_Packaging" add sketch "Yaw_Rotor_88mm_Envelope" along normal blind 30 separate body makes body 20 in component "04_Left_Shoulder_Standoff"
ref_plane "WorkPlane1" through (0, 0, -60) normal (0, 0, 1) x (1, 0, 0) in component "04_Left_Yaw_Bearing_Housing"
sketch "Bearing_Housing_100mm_Envelope" plane through (0, 0, -60) normal (0, 0, 1) x (1, 0, 0) in component "04_Left_Yaw_Bearing_Housing"
  circle A0 centre (0, 0) radius 45.5
  circle A1 centre (0, 0) radius 50
  dimension "d290" = 45.5
  dimension "d291" = 50
extrude "Left_Yaw_Bearing_Housing_Packaging" add sketch "Bearing_Housing_100mm_Envelope" along normal blind 30 separate body makes body 21 in component "04_Left_Yaw_Bearing_Housing"
ref_plane "WorkPlane1" through (0, 0, -60) normal (0, 0, 1) x (1, 0, 0) in component "04_Right_Shoulder_Standoff"
sketch "Yaw_Rotor_88mm_Envelope (2)" plane through (0, 0, -60) normal (0, 0, 1) x (1, 0, 0) in component "04_Right_Shoulder_Standoff"
  line L0 (0, 0) -> (20, 0) construction
  circle A0 centre (20, 0) radius 44
  dimension "d296" = 20
  dimension "d297" = 44
extrude "Right_Yaw_Rotor_Packaging" add sketch "Yaw_Rotor_88mm_Envelope (2)" along normal blind 30 separate body makes body 22 in component "04_Right_Shoulder_Standoff"
ref_plane "WorkPlane1" through (0, 0, -60) normal (0, 0, 1) x (1, 0, 0) in component "04_Right_Yaw_Bearing_Housing"
sketch "Bearing_Housing_100mm_Envelope (2)" plane through (0, 0, -60) normal (0, 0, 1) x (1, 0, 0) in component "04_Right_Yaw_Bearing_Housing"
  circle A0 centre (0, 0) radius 45.5
  circle A1 centre (0, 0) radius 50
  dimension "d302" = 45.5
  dimension "d303" = 50
extrude "Right_Yaw_Bearing_Housing_Packaging" add sketch "Bearing_Housing_100mm_Envelope (2)" along normal blind 30 separate body makes body 23 in component "04_Right_Yaw_Bearing_Housing"
sketch "ASSUMED_Pillow_Envelope_Profile" plane through (0, 0, 0) normal (0, 1, 0) x (1, 0, 0) in component "10_ASSUMED_Pillow_300x400x60mm"
  line L0 (-150, 30) -> (150, 30)
  line L1 (150, 30) -> (150, -30)
  line L2 (150, -30) -> (-150, -30)
  line L3 (-150, -30) -> (-150, 30)
  dimension "d306" = 150
  dimension "d307" = 30
  dimension "d308" = 300
  dimension "d309" = 60
extrude "ASSUMED_Pillow_Envelope" add sketch "ASSUMED_Pillow_Envelope_Profile" along normal mid plane 400 separate body makes body 24 in component "10_ASSUMED_Pillow_300x400x60mm"
sketch "ASSUMED_Box_Envelope_Profile" plane through (0, 0, 0) normal (0, 1, 0) x (1, 0, 0) in component "10_ASSUMED_Box_100x60x80mm"
  line L0 (-50, 40) -> (50, 40)
  line L1 (50, 40) -> (50, -40)
  line L2 (50, -40) -> (-50, -40)
  line L3 (-50, -40) -> (-50, 40)
  dimension "d312" = 50
  dimension "d313" = 40
  dimension "d314" = 100
  dimension "d315" = 80
extrude "ASSUMED_Box_Envelope" add sketch "ASSUMED_Box_Envelope_Profile" along normal mid plane 60 separate body makes body 25 in component "10_ASSUMED_Box_100x60x80mm"
sketch "ASSUMED_Bottle_Section" plane through (0, 0, 0) normal (0, 0, 1) x (1, 0, 0) in component "10_ASSUMED_Bottle_D60x220mm"
  circle A0 centre (0, 0) radius 30
  dimension "d318" = 30
extrude "ASSUMED_Bottle_Envelope" add sketch "ASSUMED_Bottle_Section" along normal blind 220 separate body makes body 26 in component "10_ASSUMED_Bottle_D60x220mm"
sketch "ASSUMED_Shelf_Surface_1676p4mm_Profile" plane through (0, 0, 0) normal (0, 1, 0) x (1, 0, 0) in component "10_ASSUMED_Shelf_400x1000x25mm"
  line L0 (-200, 12.5) -> (200, 12.5)
  line L1 (200, 12.5) -> (200, -12.5)
  line L2 (200, -12.5) -> (-200, -12.5)
  line L3 (-200, -12.5) -> (-200, 12.5)
  dimension "d321" = 200
  dimension "d322" = 12.5
  dimension "d323" = 400
  dimension "d324" = 25
extrude "ASSUMED_Shelf_Surface_1676p4mm" add sketch "ASSUMED_Shelf_Surface_1676p4mm_Profile" along normal mid plane 1000 separate body makes body 27 in component "10_ASSUMED_Shelf_400x1000x25mm"
component "00_Layout" placed x (1, 0, 0) y (0, 1, 0) z (0, 0, 1) at (0, 0, 0)
component "01_Base_Envelope" placed x (1, 0, 0) y (0, 1, 0) z (0, 0, 1) at (0, 0, 0)
component "02_Mast_Envelope" placed x (1, 0, 0) y (0, 1, 0) z (0, 0, 1) at (0, 0, 0)
component "03_Shared_Carriage" placed x (1, 0, 0) y (0, 1, 0) z (0, 0, 1) at (0, 0, 0)
component "04_Left_Shoulder_Standoff" placed x (1, 0, 0) y (0, 1, 0) z (0, 0, 1) at (0, 0, 0)
component "05_Left_Upper_Arm" placed x (1, 0, 0) y (0, 1, 0) z (0, 0, 1) at (0, 0, 0)
component "06_Left_Forearm" placed x (1, 0, 0) y (0, 1, 0) z (0, 0, 1) at (0, 0, 0)
component "07_Left_Wrist_Palm" placed x (1, 0, 0) y (0, 1, 0) z (0, 0, 1) at (0, 0, 0)
component "08_Left_Finger_Positive" placed x (1, 0, 0) y (0, 1, 0) z (0, 0, 1) at (0, 0, 0)
component "09_Left_Pad_Positive" placed x (1, 0, 0) y (0, 1, 0) z (0, 0, 1) at (0, 0, 0)
component "08_Left_Finger_Negative" placed x (1, 0, 0) y (0, 1, 0) z (0, 0, 1) at (0, 0, 0)
component "09_Left_Pad_Negative" placed x (1, 0, 0) y (0, 1, 0) z (0, 0, 1) at (0, 0, 0)
component "04_Right_Shoulder_Standoff" placed x (1, 0, 0) y (0, 1, 0) z (0, 0, 1) at (0, 0, 0)
component "05_Right_Upper_Arm" placed x (1, 0, 0) y (0, 1, 0) z (0, 0, 1) at (0, 0, 0)
component "06_Right_Forearm" placed x (1, 0, 0) y (0, 1, 0) z (0, 0, 1) at (0, 0, 0)
component "07_Right_Wrist_Palm" placed x (1, 0, 0) y (0, 1, 0) z (0, 0, 1) at (0, 0, 0)
component "08_Right_Finger_Positive" placed x (1, 0, 0) y (0, 1, 0) z (0, 0, 1) at (0, 0, 0)
component "09_Right_Pad_Positive" placed x (1, 0, 0) y (0, 1, 0) z (0, 0, 1) at (0, 0, 0)
component "08_Right_Finger_Negative" placed x (1, 0, 0) y (0, 1, 0) z (0, 0, 1) at (0, 0, 0)
component "09_Right_Pad_Negative" placed x (1, 0, 0) y (0, 1, 0) z (0, 0, 1) at (0, 0, 0)
component "04_Left_Yaw_Bearing_Housing" placed x (1, 0, 0) y (0, 1, 0) z (0, 0, 1) at (0, 0, 0)
component "04_Right_Yaw_Bearing_Housing" placed x (1, 0, 0) y (0, 1, 0) z (0, 0, 1) at (0, 0, 0)
component "10_ASSUMED_Pillow_300x400x60mm" placed x (1, 0, 0) y (0, 1, 0) z (0, 0, 1) at (0, 0, 0)
component "10_ASSUMED_Box_100x60x80mm" placed x (1, 0, 0) y (0, 1, 0) z (0, 0, 1) at (0, 0, 0)
component "10_ASSUMED_Bottle_D60x220mm" placed x (1, 0, 0) y (0, 1, 0) z (0, 0, 1) at (0, 0, 0)
component "10_ASSUMED_Shelf_400x1000x25mm" placed x (1, 0, 0) y (0, 1, 0) z (0, 0, 1) at (0, 0, 0)
